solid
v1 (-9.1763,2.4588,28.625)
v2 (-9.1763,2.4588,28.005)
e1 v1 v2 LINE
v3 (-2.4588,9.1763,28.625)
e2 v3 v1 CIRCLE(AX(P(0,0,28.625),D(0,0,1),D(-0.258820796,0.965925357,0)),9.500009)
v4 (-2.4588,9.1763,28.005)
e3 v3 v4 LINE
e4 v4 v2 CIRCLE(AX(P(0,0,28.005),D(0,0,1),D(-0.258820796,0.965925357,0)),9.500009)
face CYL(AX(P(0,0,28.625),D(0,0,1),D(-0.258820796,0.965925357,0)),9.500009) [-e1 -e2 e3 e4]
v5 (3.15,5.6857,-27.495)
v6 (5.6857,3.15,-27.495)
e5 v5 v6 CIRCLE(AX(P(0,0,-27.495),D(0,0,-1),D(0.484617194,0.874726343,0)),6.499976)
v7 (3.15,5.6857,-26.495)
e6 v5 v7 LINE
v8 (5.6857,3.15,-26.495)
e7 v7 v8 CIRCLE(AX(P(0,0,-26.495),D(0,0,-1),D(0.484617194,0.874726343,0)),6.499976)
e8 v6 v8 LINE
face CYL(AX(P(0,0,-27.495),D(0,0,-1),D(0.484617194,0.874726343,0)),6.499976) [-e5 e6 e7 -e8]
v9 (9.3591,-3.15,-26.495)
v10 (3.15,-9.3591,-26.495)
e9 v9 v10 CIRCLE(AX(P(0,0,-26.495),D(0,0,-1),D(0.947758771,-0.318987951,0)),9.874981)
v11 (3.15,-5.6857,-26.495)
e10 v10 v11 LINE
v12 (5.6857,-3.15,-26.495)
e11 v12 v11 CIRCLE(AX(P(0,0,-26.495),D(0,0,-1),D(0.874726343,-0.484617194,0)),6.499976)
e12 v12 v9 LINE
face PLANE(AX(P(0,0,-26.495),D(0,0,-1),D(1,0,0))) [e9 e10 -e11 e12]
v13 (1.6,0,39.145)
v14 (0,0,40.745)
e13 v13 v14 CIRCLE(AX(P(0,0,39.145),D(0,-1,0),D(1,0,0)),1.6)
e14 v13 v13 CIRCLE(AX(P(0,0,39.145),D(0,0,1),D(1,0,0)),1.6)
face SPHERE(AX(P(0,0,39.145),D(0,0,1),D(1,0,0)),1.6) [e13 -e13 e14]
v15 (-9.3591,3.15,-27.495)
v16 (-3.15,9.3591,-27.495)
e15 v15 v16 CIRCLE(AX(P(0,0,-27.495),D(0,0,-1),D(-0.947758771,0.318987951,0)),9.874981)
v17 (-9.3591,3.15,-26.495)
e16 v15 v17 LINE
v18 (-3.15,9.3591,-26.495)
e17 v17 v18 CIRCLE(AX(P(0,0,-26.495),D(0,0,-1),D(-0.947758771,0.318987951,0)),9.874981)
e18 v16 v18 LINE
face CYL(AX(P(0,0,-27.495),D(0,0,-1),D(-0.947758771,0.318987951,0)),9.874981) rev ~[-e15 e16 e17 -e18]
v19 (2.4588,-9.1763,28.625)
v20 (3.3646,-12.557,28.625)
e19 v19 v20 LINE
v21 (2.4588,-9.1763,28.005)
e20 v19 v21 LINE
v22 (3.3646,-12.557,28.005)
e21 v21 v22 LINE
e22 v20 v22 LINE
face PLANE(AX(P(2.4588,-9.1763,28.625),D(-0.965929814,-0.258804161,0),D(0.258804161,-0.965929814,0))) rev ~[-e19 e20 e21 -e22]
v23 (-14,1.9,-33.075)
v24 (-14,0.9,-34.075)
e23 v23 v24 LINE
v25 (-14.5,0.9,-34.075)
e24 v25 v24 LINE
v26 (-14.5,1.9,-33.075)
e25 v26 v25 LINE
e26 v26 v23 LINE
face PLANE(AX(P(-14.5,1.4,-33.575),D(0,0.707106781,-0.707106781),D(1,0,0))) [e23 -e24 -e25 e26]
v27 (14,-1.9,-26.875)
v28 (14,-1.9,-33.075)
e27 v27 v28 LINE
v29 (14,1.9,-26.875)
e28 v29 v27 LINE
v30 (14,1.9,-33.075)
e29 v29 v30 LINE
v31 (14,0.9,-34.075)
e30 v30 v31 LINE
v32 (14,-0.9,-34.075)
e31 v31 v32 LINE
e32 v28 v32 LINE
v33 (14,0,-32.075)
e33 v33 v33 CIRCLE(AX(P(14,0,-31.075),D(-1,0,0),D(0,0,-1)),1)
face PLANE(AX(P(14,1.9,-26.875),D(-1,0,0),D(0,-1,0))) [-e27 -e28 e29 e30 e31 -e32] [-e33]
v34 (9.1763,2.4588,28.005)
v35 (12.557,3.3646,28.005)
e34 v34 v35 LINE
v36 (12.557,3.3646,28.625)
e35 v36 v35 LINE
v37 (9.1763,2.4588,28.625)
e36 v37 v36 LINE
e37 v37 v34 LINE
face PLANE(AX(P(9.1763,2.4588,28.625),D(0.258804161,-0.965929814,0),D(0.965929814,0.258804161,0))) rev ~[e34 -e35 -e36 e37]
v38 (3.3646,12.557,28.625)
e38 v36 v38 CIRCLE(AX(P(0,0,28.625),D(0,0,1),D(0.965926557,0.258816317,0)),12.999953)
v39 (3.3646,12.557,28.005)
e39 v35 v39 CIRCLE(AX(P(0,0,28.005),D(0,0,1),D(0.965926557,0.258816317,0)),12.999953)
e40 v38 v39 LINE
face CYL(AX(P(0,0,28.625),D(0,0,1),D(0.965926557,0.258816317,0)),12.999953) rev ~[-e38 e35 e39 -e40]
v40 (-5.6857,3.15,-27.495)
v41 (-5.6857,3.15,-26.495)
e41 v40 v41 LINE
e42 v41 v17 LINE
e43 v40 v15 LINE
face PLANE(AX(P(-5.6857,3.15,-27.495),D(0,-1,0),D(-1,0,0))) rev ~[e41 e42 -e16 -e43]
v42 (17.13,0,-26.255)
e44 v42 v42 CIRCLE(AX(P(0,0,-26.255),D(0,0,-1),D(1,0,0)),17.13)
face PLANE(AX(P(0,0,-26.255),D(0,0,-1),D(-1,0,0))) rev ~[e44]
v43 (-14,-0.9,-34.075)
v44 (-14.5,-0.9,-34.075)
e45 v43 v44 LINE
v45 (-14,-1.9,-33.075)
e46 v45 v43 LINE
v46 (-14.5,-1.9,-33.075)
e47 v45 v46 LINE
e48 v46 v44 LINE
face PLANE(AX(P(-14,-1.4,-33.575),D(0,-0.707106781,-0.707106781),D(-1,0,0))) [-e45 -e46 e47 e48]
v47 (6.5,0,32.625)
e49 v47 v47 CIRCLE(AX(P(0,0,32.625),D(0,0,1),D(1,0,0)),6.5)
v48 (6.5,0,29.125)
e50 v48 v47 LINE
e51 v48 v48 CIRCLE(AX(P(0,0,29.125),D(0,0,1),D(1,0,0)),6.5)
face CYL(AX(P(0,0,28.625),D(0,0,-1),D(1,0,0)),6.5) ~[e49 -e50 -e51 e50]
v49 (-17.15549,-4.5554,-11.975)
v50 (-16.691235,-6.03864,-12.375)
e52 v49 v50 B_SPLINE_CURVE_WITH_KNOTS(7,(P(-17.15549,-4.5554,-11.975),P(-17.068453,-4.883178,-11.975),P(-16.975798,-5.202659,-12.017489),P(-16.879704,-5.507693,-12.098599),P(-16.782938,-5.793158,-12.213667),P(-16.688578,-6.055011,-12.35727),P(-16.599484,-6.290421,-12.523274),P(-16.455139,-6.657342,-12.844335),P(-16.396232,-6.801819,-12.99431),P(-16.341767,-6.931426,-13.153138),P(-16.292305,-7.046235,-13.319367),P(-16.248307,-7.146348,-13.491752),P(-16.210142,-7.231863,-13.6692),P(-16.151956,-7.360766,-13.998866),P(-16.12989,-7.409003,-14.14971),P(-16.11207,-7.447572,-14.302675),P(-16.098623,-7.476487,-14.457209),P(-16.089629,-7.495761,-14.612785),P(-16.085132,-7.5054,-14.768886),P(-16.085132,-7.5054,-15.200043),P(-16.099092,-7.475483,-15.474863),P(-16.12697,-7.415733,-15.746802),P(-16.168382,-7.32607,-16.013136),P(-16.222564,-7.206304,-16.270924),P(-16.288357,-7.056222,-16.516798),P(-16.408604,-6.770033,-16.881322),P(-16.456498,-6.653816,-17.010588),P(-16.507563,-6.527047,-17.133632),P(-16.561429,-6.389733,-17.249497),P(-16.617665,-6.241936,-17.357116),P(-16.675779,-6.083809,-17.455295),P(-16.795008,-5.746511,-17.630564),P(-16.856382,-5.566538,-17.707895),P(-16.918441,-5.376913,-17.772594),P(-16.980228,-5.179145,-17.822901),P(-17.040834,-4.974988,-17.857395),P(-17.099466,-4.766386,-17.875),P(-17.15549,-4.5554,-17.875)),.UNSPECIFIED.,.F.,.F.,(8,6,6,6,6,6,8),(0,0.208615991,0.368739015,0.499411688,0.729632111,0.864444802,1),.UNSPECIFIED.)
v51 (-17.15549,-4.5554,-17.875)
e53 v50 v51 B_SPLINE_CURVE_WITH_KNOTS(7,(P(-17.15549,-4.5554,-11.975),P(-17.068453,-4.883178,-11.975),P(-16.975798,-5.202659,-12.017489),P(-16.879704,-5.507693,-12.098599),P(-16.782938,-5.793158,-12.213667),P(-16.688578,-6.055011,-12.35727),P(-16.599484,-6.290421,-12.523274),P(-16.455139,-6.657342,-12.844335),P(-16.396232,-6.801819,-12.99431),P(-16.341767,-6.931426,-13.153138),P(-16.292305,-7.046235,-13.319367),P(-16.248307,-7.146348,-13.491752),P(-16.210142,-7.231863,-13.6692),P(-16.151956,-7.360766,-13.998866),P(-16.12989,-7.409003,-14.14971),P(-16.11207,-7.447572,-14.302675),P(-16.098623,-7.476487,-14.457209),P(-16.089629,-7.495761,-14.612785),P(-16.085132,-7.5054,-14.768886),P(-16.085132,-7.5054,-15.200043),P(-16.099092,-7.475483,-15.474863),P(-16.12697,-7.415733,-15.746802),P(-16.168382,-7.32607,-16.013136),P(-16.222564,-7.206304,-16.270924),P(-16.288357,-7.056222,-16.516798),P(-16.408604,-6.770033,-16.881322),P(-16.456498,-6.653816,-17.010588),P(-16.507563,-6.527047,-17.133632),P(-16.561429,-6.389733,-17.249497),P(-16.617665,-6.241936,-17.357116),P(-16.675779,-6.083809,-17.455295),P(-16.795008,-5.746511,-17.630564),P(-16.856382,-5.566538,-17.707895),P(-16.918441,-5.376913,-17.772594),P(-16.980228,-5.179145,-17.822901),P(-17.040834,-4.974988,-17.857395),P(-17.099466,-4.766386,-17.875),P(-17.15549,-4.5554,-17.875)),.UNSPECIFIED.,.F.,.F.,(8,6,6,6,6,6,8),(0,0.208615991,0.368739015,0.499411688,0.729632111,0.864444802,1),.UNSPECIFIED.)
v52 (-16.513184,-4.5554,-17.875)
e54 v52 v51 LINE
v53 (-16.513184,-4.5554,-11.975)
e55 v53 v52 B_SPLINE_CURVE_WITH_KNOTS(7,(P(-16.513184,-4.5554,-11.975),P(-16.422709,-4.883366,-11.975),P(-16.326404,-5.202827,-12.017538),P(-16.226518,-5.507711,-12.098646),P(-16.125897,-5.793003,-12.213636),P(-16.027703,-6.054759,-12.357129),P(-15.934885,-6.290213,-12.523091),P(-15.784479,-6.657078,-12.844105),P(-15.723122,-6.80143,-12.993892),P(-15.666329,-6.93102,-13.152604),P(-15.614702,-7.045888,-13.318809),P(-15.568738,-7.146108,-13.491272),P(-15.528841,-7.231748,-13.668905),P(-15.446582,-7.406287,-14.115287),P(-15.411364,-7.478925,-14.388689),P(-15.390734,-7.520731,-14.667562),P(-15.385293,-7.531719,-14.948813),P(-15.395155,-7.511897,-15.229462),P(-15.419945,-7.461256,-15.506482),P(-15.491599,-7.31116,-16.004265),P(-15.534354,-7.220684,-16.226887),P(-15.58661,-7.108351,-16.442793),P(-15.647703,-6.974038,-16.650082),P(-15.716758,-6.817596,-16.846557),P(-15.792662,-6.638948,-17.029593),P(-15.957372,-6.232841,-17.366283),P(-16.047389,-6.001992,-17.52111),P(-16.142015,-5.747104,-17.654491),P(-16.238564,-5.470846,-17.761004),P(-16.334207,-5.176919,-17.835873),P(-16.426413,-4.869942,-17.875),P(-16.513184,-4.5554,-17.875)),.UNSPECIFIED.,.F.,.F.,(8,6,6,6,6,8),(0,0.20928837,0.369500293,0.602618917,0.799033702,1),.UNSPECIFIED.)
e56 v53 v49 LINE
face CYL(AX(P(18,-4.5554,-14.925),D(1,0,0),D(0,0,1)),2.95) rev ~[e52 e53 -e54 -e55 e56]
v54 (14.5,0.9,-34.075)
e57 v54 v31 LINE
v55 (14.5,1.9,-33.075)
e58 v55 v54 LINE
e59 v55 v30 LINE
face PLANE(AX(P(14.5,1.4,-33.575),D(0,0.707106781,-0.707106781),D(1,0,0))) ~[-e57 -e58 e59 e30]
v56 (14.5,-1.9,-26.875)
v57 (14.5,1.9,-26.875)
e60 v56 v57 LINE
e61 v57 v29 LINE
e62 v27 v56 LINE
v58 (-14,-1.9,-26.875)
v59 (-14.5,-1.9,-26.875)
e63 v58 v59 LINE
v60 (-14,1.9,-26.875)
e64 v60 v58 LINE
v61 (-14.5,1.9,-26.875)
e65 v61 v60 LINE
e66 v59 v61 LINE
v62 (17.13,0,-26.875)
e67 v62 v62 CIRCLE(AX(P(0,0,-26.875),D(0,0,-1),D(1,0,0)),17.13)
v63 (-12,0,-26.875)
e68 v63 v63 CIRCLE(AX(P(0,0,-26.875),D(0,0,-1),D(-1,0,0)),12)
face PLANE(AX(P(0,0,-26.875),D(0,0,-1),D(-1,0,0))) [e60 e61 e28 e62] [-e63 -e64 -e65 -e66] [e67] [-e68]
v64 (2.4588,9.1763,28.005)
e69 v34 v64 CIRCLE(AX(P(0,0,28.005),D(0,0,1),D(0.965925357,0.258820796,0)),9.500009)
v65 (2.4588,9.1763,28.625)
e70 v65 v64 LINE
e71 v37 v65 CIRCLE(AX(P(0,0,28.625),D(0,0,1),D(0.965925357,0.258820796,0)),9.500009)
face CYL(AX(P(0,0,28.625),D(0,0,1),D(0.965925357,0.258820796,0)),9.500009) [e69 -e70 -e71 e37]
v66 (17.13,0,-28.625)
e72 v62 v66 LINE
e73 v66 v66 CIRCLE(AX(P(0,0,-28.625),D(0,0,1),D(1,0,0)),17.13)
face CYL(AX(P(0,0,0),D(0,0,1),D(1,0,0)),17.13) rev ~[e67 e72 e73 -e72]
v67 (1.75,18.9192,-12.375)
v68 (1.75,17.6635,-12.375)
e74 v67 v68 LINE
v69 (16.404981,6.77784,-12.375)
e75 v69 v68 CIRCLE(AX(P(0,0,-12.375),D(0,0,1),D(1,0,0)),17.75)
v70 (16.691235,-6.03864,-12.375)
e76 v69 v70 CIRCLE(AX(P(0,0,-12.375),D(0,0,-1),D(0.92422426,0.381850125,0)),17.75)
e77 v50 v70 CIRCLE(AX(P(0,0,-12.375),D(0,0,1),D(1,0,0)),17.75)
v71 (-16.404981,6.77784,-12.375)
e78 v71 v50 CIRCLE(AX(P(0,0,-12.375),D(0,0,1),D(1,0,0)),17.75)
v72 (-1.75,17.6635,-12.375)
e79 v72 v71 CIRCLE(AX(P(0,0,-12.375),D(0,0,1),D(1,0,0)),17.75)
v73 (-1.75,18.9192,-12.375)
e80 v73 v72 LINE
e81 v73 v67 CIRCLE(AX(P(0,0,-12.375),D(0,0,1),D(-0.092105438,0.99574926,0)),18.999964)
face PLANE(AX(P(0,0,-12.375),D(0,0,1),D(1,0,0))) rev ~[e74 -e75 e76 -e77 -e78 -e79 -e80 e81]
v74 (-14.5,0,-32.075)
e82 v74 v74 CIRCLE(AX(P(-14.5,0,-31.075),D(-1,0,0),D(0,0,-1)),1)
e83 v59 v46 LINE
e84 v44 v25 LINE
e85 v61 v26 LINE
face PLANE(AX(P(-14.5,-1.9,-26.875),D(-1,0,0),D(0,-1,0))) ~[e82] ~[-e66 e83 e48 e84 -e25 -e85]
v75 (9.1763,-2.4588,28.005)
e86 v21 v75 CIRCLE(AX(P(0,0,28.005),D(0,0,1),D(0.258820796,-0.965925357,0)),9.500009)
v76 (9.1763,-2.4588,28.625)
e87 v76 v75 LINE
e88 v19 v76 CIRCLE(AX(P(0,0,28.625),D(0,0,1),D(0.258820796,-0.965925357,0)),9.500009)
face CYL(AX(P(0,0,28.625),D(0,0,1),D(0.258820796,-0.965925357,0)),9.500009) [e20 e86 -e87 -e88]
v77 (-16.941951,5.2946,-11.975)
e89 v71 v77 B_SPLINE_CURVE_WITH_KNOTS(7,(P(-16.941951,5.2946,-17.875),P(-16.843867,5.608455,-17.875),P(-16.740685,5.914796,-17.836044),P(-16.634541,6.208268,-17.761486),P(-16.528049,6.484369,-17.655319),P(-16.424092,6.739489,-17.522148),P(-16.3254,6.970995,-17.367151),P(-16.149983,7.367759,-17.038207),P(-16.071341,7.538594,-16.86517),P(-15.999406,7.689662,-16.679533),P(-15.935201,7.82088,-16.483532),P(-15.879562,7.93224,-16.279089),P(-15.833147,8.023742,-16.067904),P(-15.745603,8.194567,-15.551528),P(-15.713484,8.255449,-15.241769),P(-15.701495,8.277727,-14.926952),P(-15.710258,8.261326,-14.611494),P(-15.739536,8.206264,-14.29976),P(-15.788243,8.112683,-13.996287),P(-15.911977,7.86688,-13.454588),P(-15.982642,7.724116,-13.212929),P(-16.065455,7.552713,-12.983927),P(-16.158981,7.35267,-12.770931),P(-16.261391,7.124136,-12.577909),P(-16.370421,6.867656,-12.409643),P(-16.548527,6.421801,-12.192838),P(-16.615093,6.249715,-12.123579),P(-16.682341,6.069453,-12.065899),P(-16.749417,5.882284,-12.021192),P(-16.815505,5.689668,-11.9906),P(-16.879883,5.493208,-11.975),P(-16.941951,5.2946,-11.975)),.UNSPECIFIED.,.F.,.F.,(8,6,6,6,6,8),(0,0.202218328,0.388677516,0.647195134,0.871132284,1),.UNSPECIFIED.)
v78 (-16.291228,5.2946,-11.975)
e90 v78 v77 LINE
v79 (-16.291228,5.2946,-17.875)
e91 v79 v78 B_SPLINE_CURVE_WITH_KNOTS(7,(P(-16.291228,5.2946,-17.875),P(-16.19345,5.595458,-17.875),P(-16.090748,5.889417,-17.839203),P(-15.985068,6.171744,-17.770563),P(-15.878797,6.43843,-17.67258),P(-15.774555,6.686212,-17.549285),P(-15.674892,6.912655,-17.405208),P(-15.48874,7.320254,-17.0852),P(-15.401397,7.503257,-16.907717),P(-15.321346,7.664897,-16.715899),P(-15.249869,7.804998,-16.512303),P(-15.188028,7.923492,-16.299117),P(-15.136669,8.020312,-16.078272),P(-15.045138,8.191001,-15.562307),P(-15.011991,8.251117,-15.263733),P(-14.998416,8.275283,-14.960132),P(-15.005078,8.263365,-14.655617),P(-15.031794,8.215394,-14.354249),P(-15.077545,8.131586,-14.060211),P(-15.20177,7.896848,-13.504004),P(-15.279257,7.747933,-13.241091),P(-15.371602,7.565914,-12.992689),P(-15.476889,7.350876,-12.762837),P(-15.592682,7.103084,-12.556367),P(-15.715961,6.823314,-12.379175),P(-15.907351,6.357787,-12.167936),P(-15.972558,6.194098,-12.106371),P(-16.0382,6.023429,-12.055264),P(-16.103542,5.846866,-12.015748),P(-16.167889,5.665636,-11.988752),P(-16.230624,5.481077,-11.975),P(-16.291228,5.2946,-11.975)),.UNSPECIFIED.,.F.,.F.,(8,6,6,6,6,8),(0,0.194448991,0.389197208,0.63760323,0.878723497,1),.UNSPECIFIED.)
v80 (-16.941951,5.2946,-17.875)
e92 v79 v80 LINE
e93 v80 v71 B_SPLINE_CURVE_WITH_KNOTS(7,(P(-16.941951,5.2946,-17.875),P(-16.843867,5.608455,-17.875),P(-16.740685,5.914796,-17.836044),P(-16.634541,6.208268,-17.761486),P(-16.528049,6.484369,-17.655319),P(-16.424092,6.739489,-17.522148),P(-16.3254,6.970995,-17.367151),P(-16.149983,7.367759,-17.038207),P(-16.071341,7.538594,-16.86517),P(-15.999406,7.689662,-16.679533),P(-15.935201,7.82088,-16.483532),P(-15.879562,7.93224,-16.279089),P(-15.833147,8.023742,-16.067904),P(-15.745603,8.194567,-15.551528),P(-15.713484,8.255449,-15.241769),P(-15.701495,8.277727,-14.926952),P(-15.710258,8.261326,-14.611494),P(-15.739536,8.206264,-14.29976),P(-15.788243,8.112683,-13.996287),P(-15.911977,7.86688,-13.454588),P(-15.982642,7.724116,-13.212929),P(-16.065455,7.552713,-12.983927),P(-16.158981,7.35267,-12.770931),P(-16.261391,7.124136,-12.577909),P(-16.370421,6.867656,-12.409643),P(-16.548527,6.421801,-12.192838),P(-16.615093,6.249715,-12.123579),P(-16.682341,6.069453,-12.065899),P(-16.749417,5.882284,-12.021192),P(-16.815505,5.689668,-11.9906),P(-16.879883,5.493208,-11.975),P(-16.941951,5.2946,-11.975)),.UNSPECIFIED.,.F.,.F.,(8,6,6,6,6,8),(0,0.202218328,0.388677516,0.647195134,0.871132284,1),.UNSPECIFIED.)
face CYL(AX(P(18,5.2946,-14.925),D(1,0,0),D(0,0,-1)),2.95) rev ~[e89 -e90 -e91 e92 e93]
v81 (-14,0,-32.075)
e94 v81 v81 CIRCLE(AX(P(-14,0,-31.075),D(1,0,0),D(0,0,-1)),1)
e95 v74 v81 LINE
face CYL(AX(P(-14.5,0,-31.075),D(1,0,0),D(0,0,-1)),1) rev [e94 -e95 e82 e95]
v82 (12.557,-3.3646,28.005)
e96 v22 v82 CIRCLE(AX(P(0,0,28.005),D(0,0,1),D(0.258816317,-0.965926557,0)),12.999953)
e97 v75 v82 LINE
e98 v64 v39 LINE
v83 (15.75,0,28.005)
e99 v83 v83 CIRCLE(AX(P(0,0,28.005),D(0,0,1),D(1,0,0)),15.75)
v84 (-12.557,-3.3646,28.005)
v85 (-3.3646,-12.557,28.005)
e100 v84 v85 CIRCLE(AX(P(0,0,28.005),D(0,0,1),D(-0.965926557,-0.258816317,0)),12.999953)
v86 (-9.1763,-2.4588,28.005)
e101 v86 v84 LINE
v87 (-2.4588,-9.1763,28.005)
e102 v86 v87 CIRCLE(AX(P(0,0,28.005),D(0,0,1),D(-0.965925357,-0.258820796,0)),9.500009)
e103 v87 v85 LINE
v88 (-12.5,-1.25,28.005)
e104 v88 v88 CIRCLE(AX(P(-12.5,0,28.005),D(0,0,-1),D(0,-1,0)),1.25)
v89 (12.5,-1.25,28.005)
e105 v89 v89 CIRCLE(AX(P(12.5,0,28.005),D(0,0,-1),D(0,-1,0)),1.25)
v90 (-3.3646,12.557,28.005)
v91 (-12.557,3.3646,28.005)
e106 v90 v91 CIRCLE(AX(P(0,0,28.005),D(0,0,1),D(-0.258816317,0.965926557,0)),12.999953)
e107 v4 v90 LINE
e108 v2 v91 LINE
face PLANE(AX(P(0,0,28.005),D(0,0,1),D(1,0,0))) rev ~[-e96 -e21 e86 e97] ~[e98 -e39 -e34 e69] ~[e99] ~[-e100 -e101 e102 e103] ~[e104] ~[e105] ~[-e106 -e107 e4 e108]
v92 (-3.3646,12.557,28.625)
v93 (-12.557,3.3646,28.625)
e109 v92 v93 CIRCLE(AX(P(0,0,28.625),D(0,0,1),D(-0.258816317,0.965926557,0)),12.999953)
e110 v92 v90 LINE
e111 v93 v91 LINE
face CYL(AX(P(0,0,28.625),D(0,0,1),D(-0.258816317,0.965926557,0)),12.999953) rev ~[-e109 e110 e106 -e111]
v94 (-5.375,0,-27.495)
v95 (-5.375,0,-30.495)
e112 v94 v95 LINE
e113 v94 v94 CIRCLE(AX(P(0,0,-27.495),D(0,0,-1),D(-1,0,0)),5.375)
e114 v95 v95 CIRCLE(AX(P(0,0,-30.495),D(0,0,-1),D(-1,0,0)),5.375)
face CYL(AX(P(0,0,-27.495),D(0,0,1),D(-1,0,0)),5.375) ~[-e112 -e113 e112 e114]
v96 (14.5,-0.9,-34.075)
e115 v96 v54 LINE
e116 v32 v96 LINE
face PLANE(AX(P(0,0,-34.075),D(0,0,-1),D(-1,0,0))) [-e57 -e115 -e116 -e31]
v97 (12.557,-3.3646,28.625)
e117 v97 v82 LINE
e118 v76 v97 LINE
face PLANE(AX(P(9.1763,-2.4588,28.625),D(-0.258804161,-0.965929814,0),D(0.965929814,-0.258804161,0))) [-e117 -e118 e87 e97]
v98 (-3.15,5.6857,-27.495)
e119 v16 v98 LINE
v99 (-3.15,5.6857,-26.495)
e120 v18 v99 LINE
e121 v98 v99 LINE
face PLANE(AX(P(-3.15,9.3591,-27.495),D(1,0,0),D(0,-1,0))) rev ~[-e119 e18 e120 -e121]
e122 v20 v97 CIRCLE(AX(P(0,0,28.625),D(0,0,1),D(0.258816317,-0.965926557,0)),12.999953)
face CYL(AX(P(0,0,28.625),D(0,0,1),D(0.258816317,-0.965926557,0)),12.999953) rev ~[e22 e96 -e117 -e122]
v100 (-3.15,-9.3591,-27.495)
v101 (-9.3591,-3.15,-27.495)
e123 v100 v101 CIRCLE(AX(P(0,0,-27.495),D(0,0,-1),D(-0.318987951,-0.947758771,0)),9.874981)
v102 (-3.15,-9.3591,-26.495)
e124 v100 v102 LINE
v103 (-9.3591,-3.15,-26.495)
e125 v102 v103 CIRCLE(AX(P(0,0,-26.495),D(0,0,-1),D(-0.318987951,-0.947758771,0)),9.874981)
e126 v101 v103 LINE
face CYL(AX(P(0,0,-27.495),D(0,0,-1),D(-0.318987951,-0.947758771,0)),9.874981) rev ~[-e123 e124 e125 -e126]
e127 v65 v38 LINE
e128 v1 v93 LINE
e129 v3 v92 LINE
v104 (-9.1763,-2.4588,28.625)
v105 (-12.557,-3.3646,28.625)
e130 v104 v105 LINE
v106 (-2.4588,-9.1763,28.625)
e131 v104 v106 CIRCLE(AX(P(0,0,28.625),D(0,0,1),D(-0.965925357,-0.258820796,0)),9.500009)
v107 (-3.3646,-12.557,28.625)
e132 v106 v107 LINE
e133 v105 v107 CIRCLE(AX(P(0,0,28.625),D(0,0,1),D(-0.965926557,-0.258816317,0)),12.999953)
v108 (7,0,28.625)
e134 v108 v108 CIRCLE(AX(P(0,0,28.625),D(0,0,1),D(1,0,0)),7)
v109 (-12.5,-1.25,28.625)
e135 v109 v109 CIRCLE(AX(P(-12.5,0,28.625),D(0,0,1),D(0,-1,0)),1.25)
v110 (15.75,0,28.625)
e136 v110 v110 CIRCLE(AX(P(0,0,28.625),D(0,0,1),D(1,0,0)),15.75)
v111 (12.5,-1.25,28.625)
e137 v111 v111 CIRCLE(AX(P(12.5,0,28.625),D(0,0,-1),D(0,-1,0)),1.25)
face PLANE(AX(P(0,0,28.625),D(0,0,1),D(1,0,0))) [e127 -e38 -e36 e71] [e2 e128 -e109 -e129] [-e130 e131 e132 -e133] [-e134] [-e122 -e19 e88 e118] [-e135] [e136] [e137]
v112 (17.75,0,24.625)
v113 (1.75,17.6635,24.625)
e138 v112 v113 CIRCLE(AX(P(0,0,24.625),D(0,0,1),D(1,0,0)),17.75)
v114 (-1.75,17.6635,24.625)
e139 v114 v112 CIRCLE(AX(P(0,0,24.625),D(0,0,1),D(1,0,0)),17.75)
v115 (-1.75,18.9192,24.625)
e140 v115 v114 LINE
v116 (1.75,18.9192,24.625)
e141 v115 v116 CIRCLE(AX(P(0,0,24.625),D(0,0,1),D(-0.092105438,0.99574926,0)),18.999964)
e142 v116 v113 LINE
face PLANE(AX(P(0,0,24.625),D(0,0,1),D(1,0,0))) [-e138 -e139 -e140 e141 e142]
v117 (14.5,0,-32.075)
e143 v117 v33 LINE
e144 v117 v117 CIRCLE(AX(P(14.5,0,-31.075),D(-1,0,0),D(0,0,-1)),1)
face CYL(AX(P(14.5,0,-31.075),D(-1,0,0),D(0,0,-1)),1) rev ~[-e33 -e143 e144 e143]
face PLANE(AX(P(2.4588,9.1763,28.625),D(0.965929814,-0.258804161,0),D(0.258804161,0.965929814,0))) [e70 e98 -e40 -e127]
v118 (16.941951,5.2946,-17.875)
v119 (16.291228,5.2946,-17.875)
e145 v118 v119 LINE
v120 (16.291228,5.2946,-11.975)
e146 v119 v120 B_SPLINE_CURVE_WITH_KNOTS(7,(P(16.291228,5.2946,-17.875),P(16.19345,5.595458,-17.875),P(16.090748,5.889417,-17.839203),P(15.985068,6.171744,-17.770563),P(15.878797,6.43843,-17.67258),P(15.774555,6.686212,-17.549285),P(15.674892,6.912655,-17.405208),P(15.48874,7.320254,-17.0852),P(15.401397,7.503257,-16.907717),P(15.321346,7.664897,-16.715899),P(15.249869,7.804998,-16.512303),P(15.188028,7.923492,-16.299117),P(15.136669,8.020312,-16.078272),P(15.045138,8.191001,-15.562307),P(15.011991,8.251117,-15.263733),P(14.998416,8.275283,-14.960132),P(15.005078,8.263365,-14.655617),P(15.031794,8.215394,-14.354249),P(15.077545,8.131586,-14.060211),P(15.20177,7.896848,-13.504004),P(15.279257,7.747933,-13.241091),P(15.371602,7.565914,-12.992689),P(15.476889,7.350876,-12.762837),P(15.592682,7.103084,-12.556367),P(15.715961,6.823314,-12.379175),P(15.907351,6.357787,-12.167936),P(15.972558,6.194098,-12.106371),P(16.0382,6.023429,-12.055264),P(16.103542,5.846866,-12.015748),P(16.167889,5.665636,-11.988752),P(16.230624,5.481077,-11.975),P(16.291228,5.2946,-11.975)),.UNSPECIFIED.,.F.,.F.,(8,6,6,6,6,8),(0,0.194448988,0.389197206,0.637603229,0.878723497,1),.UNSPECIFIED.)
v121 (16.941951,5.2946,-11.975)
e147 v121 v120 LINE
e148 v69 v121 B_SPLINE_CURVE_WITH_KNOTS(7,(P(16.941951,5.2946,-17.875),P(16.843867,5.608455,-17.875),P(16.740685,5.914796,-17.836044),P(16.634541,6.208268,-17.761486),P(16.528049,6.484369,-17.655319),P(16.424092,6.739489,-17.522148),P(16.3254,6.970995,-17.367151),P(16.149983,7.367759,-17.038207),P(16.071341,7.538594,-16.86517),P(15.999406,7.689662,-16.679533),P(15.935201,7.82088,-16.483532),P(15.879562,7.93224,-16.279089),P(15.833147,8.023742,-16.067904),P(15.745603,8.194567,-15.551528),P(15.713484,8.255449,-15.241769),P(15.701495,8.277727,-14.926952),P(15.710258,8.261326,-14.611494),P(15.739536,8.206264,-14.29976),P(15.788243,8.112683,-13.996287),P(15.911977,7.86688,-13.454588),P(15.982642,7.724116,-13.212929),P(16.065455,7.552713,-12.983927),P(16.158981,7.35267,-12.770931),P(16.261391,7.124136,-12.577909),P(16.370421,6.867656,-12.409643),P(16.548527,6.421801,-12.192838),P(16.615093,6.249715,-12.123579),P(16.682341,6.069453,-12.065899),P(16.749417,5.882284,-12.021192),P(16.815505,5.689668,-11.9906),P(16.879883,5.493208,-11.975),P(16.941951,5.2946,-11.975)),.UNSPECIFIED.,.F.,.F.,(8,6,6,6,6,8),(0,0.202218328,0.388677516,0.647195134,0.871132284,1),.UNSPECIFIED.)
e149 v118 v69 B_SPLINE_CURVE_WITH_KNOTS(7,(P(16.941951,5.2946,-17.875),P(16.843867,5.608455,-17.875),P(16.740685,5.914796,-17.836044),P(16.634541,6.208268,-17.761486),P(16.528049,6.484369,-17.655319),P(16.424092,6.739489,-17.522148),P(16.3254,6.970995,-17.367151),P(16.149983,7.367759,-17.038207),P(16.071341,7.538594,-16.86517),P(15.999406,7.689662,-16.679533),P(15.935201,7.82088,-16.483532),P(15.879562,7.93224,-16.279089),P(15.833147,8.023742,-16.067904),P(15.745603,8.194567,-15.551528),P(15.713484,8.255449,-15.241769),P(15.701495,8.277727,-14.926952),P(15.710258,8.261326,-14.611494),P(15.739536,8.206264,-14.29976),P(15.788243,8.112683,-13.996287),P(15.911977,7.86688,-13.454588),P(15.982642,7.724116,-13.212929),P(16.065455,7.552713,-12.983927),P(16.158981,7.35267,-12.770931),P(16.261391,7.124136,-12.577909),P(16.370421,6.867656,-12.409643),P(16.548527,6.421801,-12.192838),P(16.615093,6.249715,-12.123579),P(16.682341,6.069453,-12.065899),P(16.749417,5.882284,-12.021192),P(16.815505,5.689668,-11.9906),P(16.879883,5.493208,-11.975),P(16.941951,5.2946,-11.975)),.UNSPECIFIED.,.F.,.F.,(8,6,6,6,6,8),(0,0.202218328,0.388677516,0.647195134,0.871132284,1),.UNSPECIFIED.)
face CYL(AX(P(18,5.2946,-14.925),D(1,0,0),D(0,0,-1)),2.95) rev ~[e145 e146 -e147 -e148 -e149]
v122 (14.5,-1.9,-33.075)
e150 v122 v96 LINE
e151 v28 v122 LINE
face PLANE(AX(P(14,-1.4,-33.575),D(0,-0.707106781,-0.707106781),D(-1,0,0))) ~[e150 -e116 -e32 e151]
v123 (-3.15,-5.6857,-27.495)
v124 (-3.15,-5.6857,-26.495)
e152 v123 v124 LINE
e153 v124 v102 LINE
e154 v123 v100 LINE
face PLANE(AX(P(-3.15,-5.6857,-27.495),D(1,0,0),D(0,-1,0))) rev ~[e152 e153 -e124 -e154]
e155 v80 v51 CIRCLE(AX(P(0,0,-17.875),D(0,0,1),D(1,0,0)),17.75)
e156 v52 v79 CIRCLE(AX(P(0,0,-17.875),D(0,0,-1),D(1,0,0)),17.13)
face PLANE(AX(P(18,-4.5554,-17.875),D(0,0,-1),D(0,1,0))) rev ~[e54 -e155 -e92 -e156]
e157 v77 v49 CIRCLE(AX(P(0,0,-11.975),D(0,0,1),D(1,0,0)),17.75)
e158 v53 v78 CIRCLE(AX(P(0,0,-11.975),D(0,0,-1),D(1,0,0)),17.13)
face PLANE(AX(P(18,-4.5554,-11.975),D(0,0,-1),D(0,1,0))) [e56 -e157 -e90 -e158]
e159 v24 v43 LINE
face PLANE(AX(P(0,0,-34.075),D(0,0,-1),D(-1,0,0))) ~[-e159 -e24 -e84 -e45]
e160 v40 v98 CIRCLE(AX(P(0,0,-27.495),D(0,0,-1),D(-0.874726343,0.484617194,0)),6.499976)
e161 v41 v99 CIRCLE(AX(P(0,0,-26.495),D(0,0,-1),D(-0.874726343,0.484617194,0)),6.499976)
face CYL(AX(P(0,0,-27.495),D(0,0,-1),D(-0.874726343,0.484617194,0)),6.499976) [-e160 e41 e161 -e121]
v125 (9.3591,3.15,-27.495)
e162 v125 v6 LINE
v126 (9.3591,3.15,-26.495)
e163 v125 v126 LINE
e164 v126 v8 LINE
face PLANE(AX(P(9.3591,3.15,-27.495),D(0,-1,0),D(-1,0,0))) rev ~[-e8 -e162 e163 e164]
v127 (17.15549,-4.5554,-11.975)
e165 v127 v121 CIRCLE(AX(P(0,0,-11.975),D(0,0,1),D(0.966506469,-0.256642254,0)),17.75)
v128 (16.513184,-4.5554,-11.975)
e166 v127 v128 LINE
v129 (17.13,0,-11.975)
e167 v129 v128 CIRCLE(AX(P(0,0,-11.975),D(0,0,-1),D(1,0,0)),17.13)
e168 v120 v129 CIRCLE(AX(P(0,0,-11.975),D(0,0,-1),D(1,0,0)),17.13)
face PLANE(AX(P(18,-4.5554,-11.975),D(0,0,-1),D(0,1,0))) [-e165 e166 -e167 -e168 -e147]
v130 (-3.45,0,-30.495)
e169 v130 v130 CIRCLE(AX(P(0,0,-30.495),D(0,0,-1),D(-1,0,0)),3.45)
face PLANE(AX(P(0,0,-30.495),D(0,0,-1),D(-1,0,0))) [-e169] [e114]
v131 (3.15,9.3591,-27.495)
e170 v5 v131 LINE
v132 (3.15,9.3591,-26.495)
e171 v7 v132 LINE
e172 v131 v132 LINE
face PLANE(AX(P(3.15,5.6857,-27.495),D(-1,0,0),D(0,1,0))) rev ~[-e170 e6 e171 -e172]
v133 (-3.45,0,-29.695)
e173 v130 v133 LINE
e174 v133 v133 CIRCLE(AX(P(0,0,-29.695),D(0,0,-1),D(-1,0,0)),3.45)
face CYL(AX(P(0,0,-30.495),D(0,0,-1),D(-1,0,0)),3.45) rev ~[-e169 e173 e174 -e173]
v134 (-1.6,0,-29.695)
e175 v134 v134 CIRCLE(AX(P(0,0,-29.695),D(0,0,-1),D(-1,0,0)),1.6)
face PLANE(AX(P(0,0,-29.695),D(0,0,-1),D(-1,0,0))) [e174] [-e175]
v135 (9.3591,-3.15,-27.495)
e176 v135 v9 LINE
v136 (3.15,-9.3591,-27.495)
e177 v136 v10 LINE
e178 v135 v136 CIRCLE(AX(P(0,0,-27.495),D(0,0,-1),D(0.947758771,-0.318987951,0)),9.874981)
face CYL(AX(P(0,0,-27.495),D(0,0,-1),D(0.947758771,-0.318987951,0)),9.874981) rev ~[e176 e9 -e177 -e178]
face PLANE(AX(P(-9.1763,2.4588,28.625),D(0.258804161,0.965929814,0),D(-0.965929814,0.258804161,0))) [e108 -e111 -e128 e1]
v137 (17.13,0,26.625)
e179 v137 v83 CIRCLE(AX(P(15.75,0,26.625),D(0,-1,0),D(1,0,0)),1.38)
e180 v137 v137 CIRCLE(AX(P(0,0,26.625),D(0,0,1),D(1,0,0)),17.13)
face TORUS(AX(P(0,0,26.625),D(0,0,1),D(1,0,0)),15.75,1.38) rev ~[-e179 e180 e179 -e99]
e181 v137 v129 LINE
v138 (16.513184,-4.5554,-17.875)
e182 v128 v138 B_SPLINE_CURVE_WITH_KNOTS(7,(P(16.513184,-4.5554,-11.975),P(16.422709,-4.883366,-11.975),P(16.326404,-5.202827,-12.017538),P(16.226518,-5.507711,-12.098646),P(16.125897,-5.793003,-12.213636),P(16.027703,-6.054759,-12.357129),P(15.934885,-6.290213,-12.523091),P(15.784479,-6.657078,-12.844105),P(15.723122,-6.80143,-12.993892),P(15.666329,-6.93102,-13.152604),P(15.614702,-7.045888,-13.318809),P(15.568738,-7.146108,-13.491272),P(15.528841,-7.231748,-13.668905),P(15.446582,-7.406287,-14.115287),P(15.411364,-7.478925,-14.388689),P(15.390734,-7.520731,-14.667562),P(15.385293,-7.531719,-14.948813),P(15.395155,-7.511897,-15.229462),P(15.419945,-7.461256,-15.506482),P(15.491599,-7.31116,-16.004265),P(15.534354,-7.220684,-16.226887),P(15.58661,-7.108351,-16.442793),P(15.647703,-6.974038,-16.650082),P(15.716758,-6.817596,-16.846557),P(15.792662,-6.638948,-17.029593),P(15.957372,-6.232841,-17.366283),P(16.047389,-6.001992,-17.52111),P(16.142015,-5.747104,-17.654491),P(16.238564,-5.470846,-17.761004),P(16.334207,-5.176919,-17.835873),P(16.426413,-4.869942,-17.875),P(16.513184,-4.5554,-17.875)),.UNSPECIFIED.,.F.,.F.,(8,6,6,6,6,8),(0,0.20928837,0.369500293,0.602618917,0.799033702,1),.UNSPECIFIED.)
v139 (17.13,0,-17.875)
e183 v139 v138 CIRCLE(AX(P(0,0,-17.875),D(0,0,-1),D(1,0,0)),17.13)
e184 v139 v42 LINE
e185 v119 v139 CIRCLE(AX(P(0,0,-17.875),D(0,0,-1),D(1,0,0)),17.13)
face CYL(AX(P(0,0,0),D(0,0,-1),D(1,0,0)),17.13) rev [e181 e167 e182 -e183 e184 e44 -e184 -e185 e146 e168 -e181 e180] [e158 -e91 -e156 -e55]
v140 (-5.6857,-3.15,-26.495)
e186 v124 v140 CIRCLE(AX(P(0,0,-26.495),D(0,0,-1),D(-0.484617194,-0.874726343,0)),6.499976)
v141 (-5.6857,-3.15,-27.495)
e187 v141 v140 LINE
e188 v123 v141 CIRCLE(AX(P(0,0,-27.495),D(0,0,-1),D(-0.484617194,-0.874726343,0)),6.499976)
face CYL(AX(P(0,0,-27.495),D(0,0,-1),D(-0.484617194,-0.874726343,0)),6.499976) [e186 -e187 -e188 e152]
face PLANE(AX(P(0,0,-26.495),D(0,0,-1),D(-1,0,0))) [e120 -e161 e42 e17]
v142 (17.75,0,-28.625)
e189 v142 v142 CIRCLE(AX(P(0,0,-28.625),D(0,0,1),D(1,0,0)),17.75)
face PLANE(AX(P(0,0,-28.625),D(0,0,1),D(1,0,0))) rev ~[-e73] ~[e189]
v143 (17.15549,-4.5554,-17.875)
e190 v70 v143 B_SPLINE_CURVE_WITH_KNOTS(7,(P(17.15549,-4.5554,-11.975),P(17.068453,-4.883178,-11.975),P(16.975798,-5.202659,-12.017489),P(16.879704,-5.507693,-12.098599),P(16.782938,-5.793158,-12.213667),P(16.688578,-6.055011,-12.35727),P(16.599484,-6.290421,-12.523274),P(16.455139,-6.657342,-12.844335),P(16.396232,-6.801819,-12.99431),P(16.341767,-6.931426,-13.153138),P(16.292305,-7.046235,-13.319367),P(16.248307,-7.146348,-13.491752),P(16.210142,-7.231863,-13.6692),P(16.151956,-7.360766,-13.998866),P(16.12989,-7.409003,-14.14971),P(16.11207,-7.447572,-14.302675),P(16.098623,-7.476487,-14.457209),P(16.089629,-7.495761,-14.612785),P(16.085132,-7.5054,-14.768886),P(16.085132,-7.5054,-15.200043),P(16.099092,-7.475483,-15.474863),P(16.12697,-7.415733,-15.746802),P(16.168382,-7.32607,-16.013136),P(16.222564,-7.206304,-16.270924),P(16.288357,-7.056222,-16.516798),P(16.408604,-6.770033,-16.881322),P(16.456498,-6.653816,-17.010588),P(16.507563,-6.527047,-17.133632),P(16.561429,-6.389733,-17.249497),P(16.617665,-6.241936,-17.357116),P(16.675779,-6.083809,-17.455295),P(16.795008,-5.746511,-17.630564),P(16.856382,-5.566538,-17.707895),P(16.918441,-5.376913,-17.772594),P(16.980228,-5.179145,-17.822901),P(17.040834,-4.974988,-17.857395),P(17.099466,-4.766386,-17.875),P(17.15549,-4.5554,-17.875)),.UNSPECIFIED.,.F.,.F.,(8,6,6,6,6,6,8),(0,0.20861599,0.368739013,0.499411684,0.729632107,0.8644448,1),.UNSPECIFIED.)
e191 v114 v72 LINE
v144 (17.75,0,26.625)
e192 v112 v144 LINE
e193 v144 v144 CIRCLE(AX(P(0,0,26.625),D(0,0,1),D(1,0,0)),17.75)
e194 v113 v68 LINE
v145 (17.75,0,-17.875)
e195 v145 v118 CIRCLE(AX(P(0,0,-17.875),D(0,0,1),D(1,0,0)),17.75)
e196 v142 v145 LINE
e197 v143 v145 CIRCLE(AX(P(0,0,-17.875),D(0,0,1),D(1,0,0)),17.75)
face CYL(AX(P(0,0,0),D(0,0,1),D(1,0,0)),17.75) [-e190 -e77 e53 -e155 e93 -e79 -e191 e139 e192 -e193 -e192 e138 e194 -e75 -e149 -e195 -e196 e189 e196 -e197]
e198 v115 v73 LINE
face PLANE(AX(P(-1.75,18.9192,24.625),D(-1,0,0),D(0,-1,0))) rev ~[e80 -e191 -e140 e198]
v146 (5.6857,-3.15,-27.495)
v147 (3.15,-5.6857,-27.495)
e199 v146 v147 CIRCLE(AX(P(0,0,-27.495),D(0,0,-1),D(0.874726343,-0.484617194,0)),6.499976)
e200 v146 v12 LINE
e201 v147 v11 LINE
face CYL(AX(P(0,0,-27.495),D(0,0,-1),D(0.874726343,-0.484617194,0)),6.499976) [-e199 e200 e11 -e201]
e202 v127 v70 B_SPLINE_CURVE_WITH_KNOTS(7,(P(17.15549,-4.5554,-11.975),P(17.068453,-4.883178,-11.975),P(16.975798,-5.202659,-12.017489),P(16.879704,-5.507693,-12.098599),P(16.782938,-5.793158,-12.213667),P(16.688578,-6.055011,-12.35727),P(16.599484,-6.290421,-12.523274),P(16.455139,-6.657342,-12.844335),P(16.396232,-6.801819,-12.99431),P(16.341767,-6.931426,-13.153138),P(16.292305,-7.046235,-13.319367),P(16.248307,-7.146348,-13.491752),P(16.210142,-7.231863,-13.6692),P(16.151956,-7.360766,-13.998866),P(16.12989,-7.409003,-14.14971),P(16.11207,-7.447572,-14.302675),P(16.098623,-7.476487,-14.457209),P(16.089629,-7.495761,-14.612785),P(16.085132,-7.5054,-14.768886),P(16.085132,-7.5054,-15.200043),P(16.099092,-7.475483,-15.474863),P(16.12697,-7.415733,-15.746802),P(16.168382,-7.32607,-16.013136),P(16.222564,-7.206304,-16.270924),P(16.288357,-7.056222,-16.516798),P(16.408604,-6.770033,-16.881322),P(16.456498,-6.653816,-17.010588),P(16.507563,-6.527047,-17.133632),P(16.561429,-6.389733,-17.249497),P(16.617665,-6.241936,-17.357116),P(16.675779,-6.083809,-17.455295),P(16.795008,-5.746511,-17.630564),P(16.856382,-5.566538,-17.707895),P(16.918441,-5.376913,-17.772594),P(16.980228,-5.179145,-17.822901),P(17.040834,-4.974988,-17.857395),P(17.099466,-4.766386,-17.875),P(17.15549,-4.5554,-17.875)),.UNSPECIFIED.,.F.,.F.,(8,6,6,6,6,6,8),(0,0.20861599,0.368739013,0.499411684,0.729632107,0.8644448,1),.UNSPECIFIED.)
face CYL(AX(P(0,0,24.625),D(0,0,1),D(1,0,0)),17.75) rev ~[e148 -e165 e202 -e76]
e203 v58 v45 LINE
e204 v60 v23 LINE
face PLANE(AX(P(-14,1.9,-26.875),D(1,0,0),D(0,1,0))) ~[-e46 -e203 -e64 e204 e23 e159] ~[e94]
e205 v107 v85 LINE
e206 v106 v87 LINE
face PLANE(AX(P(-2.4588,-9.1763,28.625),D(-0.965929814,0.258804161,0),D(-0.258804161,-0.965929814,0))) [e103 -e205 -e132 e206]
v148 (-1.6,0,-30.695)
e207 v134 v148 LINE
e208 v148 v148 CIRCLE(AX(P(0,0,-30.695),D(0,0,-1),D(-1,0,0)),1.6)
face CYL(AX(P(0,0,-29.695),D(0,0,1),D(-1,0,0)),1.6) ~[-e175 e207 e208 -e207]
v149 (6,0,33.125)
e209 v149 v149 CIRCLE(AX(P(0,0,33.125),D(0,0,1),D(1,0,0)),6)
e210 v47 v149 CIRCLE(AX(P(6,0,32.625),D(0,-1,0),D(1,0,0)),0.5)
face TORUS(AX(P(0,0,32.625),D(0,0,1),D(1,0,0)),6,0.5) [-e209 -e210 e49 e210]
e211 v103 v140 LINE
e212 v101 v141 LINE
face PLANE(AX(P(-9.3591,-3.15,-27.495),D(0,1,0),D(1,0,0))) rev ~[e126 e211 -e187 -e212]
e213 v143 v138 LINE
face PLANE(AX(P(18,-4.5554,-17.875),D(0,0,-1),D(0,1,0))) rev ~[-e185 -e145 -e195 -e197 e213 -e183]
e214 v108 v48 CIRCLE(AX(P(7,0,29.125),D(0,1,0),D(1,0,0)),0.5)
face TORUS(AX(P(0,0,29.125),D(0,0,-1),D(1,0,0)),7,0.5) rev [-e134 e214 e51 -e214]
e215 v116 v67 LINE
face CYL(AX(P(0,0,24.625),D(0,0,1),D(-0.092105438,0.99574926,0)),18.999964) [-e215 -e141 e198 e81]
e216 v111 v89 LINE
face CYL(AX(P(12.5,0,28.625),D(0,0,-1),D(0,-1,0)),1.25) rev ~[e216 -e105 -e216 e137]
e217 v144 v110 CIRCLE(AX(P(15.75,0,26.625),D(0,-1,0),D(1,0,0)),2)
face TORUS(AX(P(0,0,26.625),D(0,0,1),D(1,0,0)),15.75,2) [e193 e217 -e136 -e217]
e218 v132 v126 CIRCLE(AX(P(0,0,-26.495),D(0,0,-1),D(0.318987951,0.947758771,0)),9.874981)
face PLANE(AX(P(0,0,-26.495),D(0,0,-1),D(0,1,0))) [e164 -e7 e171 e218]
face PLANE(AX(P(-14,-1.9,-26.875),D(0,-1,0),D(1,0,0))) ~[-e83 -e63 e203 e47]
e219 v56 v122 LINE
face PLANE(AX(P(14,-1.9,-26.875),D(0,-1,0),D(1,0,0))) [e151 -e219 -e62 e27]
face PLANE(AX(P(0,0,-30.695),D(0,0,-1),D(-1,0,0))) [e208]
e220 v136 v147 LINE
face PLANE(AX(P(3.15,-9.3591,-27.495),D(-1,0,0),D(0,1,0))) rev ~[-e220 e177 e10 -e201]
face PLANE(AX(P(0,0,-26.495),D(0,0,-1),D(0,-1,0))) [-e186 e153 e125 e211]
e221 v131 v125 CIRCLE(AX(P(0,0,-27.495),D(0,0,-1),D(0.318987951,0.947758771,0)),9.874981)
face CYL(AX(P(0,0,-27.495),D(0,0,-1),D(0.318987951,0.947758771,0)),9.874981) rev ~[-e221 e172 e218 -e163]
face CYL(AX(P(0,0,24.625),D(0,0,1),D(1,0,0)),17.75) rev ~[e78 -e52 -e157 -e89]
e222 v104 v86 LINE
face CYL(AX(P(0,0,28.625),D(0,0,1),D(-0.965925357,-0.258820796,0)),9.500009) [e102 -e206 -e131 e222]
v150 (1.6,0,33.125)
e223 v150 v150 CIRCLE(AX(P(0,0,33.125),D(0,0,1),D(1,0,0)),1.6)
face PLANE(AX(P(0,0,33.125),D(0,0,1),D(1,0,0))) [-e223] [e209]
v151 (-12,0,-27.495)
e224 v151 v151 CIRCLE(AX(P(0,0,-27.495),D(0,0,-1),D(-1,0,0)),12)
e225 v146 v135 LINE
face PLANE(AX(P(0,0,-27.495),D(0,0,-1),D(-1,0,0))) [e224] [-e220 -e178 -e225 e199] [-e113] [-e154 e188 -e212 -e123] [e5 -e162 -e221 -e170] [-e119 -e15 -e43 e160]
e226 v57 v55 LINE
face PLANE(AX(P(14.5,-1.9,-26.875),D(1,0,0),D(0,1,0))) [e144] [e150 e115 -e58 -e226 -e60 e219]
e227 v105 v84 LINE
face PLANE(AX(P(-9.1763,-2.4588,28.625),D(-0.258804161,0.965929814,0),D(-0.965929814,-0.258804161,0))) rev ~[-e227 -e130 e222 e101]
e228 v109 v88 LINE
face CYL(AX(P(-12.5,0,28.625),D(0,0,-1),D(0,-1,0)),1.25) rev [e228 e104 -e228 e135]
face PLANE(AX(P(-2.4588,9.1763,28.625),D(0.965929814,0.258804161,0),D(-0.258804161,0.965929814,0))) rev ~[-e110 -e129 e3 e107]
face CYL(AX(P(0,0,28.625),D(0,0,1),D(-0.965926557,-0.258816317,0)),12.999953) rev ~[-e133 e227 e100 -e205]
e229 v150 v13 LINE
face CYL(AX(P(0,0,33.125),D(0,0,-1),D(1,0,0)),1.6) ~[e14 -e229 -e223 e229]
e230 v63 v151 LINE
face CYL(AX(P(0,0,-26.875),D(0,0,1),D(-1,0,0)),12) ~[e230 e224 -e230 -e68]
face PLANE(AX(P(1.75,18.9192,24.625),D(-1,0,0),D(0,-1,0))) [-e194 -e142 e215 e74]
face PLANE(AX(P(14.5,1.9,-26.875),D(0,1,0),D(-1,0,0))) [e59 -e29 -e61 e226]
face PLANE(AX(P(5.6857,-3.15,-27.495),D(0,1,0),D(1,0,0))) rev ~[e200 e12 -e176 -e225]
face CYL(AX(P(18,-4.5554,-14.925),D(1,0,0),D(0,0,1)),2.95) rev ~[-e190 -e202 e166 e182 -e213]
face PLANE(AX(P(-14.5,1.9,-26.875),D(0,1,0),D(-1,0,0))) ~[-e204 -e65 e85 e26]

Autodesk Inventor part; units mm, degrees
sketch "Sketch1" plane through (0, 0, 0) normal (0, 0, 1) x (1, 0, 0)
  circle A0 centre (0, 0) radius 17.75
  dimension "d0" = 35.5
extrude "Extrusion1" add sketch "Sketch1" along normal mid plane 57.25
fillet "Fillet1" radius 2 1 edges at (-17.75, 0, 28.625)
shell "Shell1" thickness 0.62 removed faces 1 at (3.0438, 4.2648, -28.625)
sketch "Sketch2" plane through (0, 0, 28.625) normal (0, 0, 1) x (1, 0, 0)
  circle A0 centre (0, 0) radius 15.75 projected
  circle A1 centre (0, 0) radius 6.5
  dimension "d5" = 13
extrude "Extrusion2" add sketch "Sketch2" along normal blind 4.5 contours A1
fillet "Fillet2" radius 0.5 2 edges at (-6.5, 0, 28.625) (-6.5, 0, 33.125)
sketch "Sketch3" plane through (0, 0, 33.125) normal (0, 0, 1) x (1, 0, 0)
  circle A0 centre (0, 0) radius 6 projected
  circle A1 centre (0, 0) radius 1.6
  dimension "d9" = 3.2
extrude "Extrusion3" add sketch "Sketch3" along normal blind 7.62 contours A1
fillet "Fillet3" radius 1.6 1 edges at (-1.6, 0, 40.745)
sketch "Sketch4" plane through (0, 0, 28.625) normal (0, 0, 1) x (1, 0, 0)
  circle A0 centre (0, 0) radius 15.75 projected
  point P0 (12.5, 0)
  dimension "d13" = 12.5
hole "Hole1" at (12.5, 0, 28.625) direction (0, 0, -1) diameter 2.5 depth 8 tip angle 118
mirror "Mirror1" about plane through (0, 0, 0) normal (1, 0, 0) of "Hole1"
sketch "Sketch5" plane through (0, 0, 28.625) normal (0, 0, 1) x (1, 0, 0)
  circle A0 centre (12.5, 0) radius 1.25 projected
  circle A1 centre (0, 0) radius 7 projected
  arc A2 (12.557, 3.3646) -> (3.3646, 12.557) centre (0, 0) ccw
  arc A3 (9.1763, 2.4588) -> (2.4588, 9.1763) centre (0, 0) ccw
  line L0 (0, 0) -> (3.3646, 12.557) construction
  line L1 (0, 0) -> (12.557, 3.3646) construction
  line L2 (2.4588, 9.1763) -> (3.3646, 12.557)
  line L3 (9.1763, 2.4588) -> (12.557, 3.3646)
  line L4 (0, 0) -> (12.5, 0) construction
  line L5 (0.151, 0.5634) -> (0.151, 14.7153) construction
  dimension "d21" = 15
  dimension "d22" = 15
  dimension "d23" = 13
  dimension "d24" = 9.5
extrude "Extrusion4" cut sketch "Sketch5" against normal blind 10 contours L3 A3 L2 A2
pattern_circular "Circular Pattern1" count 4 over 360 about axis through (0, 0, 0) along (0, 0, 1) of "Extrusion4"
ref_plane "Work Plane1" through (0, 0, -26.875) normal (0, 0, -1) x (-1, 0, 0)
sketch "Sketch6" plane through (0, 0, -26.875) normal (0, 0, -1) x (-1, 0, 0)
  circle A0 centre (0, 0) radius 17.13 projected
extrude "Extrusion5" add sketch "Sketch6" against normal blind 0.62
sketch "Sketch7" plane through (0, 0, -26.875) normal (0, 0, -1) x (-1, 0, 0)
  circle A0 centre (0, 0) radius 17.13 projected
  circle A1 centre (0, 0) radius 12
  dimension "d33" = 24
extrude "Extrusion6" add sketch "Sketch7" along normal blind 0.62 contours A1
sketch "Sketch8" plane through (0, 0, -27.495) normal (0, 0, -1) x (-1, 0, 0)
  circle A0 centre (0, 0) radius 12 projected
  circle A1 centre (0, 0) radius 5.375
  dimension "d36" = 10.75
extrude "Extrusion7" add sketch "Sketch8" along normal blind 3 contours A1
sketch "Sketch9" plane through (0, 0, -30.495) normal (0, 0, -1) x (-1, 0, 0)
  circle A0 centre (0, 0) radius 5.375 projected
  circle A1 centre (0, 0) radius 3.45
  dimension "d39" = 6.9
extrude "Extrusion8" cut sketch "Sketch9" against normal blind 0.8 contours A1
sketch "Sketch10" plane through (0, 0, -29.695) normal (0, 0, -1) x (-1, 0, 0)
  circle A0 centre (0, 0) radius 3.45 projected
  circle A1 centre (0, 0) radius 1.6
  dimension "d42" = 3.2
extrude "Extrusion9" add sketch "Sketch10" along normal blind 1 contours A1
sketch "Sketch11" plane through (0, 0, -27.495) normal (0, 0, -1) x (-1, 0, 0)
  circle A0 centre (0, 0) radius 5.375 projected
  circle A1 centre (0, 0) radius 12 projected
  arc A2 (9.3591, 3.15) -> (3.15, 9.3591) centre (0, 0) ccw
  arc A3 (5.6857, 3.15) -> (3.15, 5.6857) centre (0, 0) ccw
  line L0 (3.15, 9.3591) -> (3.15, 5.6857)
  line L1 (5.6857, 3.15) -> (9.3591, 3.15)
  dimension "d45" = 3.15
  dimension "d46" = 3.15
  dimension "d47" = 9.875
  dimension "d48" = 6.5
extrude "Extrusion10" cut sketch "Sketch11" against normal blind 1 contours L1 A3 L0 A2
pattern_circular "Circular Pattern2" count 4 over 360 about axis through (0, 0, 0) along (0, 0, 1) of "Extrusion10"
sketch "Sketch12" plane through (0, 0, -26.875) normal (0, 0, -1) x (-1, 0, 0)
  circle A0 centre (0, 0) radius 12 projected
  circle A1 centre (0, 0) radius 17.13 projected
  line L0 (-14.5, 1.9) -> (-14, 1.9)
  line L1 (-14, 1.9) -> (-14, -1.9)
  line L2 (-14, -1.9) -> (-14.5, -1.9)
  line L3 (-14.5, -1.9) -> (-14.5, 1.9)
  line L4 (0, 0) -> (-16.9017, 0) construction
  point P0 (-14, 0)
  dimension "d54" = 0.5
  dimension "d55" = 3.8
  dimension "d56" = 14
extrude "Extrusion11" add sketch "Sketch12" along normal blind 7.2 contours L0 L1 L2 L3
chamfer "Chamfer1" distance 1 angle 45 2 edges at (14.25, 1.9, -34.075) (14.25, -1.9, -34.075)
sketch "Sketch13" plane through (14.5, -1.9, -26.875) normal (1, 0, 0) x (0, 0, -1)
  line L0 (7.2, 1) -> (7.2, 2.8) projected
  line L1 (4.2, 1.9) -> (6.2, 3.8) construction
  line L2 (4.2, 1.9) -> (6.2, 0) construction
  dimension "d61" = 3
hole "Hole2" at (14.5, 0, -31.075) direction (-1, 0, 0) diameter 2 depth 1 tip angle 118
mirror "Mirror2" about plane through (0, 0, 0) normal (1, 0, 0) of "Extrusion11", "Chamfer1", "Hole2"
ref_plane "Work Plane2" through (18, 0, 0) normal (1, 0, 0) x (0, 1, 0)
sketch "Sketch14" plane through (18, 0, 0) normal (1, 0, 0) x (0, 1, 0)
  arc A0 (-4.5554, -11.975) -> (-4.5554, -17.875) centre (-4.5554, -14.925) ccw
  arc A1 (5.2946, -17.875) -> (5.2946, -11.975) centre (5.2946, -14.925) ccw
  line L0 (-4.5554, -11.975) -> (5.2946, -11.975)
  line L1 (-4.5554, -17.875) -> (5.2946, -17.875)
  line L2 (17.75, -28.625) -> (-17.75, -28.625) projected
  line L3 (0, -28.625) -> (0, 20.5314) construction
  dimension "d70" = 10.75
  dimension "d71" = 5.9
  dimension "d72" = 9.85
extrude "Extrusion12" cut sketch "Sketch14" against normal through all
ref_plane "Work Plane3" through (0, 0, 24.625) normal (0, 0, 1) x (1, 0, 0)
sketch "Sketch15" plane through (0, 0, 24.625) normal (0, 0, 1) x (1, 0, 0)
  circle A0 centre (0, 0) radius 17.75 projected
  arc A1 (-1.75, 18.9192) -> (1.75, 18.9192) centre (0, 0) ccw
  line L0 (-1.75, 18.9192) -> (-1.75, 17.6635)
  line L1 (1.75, 18.9192) -> (1.75, 17.6635)
  line L2 (0, 0) -> (0, 21.9354) construction
  dimension "d76" = 38
  dimension "d77" = 3.5
extrude "Extrusion13" add sketch "Sketch15" against normal blind 37 contours A0 L1 A1 L0
properties part number "FisherPriceMotor" material "ABS Plastic"
